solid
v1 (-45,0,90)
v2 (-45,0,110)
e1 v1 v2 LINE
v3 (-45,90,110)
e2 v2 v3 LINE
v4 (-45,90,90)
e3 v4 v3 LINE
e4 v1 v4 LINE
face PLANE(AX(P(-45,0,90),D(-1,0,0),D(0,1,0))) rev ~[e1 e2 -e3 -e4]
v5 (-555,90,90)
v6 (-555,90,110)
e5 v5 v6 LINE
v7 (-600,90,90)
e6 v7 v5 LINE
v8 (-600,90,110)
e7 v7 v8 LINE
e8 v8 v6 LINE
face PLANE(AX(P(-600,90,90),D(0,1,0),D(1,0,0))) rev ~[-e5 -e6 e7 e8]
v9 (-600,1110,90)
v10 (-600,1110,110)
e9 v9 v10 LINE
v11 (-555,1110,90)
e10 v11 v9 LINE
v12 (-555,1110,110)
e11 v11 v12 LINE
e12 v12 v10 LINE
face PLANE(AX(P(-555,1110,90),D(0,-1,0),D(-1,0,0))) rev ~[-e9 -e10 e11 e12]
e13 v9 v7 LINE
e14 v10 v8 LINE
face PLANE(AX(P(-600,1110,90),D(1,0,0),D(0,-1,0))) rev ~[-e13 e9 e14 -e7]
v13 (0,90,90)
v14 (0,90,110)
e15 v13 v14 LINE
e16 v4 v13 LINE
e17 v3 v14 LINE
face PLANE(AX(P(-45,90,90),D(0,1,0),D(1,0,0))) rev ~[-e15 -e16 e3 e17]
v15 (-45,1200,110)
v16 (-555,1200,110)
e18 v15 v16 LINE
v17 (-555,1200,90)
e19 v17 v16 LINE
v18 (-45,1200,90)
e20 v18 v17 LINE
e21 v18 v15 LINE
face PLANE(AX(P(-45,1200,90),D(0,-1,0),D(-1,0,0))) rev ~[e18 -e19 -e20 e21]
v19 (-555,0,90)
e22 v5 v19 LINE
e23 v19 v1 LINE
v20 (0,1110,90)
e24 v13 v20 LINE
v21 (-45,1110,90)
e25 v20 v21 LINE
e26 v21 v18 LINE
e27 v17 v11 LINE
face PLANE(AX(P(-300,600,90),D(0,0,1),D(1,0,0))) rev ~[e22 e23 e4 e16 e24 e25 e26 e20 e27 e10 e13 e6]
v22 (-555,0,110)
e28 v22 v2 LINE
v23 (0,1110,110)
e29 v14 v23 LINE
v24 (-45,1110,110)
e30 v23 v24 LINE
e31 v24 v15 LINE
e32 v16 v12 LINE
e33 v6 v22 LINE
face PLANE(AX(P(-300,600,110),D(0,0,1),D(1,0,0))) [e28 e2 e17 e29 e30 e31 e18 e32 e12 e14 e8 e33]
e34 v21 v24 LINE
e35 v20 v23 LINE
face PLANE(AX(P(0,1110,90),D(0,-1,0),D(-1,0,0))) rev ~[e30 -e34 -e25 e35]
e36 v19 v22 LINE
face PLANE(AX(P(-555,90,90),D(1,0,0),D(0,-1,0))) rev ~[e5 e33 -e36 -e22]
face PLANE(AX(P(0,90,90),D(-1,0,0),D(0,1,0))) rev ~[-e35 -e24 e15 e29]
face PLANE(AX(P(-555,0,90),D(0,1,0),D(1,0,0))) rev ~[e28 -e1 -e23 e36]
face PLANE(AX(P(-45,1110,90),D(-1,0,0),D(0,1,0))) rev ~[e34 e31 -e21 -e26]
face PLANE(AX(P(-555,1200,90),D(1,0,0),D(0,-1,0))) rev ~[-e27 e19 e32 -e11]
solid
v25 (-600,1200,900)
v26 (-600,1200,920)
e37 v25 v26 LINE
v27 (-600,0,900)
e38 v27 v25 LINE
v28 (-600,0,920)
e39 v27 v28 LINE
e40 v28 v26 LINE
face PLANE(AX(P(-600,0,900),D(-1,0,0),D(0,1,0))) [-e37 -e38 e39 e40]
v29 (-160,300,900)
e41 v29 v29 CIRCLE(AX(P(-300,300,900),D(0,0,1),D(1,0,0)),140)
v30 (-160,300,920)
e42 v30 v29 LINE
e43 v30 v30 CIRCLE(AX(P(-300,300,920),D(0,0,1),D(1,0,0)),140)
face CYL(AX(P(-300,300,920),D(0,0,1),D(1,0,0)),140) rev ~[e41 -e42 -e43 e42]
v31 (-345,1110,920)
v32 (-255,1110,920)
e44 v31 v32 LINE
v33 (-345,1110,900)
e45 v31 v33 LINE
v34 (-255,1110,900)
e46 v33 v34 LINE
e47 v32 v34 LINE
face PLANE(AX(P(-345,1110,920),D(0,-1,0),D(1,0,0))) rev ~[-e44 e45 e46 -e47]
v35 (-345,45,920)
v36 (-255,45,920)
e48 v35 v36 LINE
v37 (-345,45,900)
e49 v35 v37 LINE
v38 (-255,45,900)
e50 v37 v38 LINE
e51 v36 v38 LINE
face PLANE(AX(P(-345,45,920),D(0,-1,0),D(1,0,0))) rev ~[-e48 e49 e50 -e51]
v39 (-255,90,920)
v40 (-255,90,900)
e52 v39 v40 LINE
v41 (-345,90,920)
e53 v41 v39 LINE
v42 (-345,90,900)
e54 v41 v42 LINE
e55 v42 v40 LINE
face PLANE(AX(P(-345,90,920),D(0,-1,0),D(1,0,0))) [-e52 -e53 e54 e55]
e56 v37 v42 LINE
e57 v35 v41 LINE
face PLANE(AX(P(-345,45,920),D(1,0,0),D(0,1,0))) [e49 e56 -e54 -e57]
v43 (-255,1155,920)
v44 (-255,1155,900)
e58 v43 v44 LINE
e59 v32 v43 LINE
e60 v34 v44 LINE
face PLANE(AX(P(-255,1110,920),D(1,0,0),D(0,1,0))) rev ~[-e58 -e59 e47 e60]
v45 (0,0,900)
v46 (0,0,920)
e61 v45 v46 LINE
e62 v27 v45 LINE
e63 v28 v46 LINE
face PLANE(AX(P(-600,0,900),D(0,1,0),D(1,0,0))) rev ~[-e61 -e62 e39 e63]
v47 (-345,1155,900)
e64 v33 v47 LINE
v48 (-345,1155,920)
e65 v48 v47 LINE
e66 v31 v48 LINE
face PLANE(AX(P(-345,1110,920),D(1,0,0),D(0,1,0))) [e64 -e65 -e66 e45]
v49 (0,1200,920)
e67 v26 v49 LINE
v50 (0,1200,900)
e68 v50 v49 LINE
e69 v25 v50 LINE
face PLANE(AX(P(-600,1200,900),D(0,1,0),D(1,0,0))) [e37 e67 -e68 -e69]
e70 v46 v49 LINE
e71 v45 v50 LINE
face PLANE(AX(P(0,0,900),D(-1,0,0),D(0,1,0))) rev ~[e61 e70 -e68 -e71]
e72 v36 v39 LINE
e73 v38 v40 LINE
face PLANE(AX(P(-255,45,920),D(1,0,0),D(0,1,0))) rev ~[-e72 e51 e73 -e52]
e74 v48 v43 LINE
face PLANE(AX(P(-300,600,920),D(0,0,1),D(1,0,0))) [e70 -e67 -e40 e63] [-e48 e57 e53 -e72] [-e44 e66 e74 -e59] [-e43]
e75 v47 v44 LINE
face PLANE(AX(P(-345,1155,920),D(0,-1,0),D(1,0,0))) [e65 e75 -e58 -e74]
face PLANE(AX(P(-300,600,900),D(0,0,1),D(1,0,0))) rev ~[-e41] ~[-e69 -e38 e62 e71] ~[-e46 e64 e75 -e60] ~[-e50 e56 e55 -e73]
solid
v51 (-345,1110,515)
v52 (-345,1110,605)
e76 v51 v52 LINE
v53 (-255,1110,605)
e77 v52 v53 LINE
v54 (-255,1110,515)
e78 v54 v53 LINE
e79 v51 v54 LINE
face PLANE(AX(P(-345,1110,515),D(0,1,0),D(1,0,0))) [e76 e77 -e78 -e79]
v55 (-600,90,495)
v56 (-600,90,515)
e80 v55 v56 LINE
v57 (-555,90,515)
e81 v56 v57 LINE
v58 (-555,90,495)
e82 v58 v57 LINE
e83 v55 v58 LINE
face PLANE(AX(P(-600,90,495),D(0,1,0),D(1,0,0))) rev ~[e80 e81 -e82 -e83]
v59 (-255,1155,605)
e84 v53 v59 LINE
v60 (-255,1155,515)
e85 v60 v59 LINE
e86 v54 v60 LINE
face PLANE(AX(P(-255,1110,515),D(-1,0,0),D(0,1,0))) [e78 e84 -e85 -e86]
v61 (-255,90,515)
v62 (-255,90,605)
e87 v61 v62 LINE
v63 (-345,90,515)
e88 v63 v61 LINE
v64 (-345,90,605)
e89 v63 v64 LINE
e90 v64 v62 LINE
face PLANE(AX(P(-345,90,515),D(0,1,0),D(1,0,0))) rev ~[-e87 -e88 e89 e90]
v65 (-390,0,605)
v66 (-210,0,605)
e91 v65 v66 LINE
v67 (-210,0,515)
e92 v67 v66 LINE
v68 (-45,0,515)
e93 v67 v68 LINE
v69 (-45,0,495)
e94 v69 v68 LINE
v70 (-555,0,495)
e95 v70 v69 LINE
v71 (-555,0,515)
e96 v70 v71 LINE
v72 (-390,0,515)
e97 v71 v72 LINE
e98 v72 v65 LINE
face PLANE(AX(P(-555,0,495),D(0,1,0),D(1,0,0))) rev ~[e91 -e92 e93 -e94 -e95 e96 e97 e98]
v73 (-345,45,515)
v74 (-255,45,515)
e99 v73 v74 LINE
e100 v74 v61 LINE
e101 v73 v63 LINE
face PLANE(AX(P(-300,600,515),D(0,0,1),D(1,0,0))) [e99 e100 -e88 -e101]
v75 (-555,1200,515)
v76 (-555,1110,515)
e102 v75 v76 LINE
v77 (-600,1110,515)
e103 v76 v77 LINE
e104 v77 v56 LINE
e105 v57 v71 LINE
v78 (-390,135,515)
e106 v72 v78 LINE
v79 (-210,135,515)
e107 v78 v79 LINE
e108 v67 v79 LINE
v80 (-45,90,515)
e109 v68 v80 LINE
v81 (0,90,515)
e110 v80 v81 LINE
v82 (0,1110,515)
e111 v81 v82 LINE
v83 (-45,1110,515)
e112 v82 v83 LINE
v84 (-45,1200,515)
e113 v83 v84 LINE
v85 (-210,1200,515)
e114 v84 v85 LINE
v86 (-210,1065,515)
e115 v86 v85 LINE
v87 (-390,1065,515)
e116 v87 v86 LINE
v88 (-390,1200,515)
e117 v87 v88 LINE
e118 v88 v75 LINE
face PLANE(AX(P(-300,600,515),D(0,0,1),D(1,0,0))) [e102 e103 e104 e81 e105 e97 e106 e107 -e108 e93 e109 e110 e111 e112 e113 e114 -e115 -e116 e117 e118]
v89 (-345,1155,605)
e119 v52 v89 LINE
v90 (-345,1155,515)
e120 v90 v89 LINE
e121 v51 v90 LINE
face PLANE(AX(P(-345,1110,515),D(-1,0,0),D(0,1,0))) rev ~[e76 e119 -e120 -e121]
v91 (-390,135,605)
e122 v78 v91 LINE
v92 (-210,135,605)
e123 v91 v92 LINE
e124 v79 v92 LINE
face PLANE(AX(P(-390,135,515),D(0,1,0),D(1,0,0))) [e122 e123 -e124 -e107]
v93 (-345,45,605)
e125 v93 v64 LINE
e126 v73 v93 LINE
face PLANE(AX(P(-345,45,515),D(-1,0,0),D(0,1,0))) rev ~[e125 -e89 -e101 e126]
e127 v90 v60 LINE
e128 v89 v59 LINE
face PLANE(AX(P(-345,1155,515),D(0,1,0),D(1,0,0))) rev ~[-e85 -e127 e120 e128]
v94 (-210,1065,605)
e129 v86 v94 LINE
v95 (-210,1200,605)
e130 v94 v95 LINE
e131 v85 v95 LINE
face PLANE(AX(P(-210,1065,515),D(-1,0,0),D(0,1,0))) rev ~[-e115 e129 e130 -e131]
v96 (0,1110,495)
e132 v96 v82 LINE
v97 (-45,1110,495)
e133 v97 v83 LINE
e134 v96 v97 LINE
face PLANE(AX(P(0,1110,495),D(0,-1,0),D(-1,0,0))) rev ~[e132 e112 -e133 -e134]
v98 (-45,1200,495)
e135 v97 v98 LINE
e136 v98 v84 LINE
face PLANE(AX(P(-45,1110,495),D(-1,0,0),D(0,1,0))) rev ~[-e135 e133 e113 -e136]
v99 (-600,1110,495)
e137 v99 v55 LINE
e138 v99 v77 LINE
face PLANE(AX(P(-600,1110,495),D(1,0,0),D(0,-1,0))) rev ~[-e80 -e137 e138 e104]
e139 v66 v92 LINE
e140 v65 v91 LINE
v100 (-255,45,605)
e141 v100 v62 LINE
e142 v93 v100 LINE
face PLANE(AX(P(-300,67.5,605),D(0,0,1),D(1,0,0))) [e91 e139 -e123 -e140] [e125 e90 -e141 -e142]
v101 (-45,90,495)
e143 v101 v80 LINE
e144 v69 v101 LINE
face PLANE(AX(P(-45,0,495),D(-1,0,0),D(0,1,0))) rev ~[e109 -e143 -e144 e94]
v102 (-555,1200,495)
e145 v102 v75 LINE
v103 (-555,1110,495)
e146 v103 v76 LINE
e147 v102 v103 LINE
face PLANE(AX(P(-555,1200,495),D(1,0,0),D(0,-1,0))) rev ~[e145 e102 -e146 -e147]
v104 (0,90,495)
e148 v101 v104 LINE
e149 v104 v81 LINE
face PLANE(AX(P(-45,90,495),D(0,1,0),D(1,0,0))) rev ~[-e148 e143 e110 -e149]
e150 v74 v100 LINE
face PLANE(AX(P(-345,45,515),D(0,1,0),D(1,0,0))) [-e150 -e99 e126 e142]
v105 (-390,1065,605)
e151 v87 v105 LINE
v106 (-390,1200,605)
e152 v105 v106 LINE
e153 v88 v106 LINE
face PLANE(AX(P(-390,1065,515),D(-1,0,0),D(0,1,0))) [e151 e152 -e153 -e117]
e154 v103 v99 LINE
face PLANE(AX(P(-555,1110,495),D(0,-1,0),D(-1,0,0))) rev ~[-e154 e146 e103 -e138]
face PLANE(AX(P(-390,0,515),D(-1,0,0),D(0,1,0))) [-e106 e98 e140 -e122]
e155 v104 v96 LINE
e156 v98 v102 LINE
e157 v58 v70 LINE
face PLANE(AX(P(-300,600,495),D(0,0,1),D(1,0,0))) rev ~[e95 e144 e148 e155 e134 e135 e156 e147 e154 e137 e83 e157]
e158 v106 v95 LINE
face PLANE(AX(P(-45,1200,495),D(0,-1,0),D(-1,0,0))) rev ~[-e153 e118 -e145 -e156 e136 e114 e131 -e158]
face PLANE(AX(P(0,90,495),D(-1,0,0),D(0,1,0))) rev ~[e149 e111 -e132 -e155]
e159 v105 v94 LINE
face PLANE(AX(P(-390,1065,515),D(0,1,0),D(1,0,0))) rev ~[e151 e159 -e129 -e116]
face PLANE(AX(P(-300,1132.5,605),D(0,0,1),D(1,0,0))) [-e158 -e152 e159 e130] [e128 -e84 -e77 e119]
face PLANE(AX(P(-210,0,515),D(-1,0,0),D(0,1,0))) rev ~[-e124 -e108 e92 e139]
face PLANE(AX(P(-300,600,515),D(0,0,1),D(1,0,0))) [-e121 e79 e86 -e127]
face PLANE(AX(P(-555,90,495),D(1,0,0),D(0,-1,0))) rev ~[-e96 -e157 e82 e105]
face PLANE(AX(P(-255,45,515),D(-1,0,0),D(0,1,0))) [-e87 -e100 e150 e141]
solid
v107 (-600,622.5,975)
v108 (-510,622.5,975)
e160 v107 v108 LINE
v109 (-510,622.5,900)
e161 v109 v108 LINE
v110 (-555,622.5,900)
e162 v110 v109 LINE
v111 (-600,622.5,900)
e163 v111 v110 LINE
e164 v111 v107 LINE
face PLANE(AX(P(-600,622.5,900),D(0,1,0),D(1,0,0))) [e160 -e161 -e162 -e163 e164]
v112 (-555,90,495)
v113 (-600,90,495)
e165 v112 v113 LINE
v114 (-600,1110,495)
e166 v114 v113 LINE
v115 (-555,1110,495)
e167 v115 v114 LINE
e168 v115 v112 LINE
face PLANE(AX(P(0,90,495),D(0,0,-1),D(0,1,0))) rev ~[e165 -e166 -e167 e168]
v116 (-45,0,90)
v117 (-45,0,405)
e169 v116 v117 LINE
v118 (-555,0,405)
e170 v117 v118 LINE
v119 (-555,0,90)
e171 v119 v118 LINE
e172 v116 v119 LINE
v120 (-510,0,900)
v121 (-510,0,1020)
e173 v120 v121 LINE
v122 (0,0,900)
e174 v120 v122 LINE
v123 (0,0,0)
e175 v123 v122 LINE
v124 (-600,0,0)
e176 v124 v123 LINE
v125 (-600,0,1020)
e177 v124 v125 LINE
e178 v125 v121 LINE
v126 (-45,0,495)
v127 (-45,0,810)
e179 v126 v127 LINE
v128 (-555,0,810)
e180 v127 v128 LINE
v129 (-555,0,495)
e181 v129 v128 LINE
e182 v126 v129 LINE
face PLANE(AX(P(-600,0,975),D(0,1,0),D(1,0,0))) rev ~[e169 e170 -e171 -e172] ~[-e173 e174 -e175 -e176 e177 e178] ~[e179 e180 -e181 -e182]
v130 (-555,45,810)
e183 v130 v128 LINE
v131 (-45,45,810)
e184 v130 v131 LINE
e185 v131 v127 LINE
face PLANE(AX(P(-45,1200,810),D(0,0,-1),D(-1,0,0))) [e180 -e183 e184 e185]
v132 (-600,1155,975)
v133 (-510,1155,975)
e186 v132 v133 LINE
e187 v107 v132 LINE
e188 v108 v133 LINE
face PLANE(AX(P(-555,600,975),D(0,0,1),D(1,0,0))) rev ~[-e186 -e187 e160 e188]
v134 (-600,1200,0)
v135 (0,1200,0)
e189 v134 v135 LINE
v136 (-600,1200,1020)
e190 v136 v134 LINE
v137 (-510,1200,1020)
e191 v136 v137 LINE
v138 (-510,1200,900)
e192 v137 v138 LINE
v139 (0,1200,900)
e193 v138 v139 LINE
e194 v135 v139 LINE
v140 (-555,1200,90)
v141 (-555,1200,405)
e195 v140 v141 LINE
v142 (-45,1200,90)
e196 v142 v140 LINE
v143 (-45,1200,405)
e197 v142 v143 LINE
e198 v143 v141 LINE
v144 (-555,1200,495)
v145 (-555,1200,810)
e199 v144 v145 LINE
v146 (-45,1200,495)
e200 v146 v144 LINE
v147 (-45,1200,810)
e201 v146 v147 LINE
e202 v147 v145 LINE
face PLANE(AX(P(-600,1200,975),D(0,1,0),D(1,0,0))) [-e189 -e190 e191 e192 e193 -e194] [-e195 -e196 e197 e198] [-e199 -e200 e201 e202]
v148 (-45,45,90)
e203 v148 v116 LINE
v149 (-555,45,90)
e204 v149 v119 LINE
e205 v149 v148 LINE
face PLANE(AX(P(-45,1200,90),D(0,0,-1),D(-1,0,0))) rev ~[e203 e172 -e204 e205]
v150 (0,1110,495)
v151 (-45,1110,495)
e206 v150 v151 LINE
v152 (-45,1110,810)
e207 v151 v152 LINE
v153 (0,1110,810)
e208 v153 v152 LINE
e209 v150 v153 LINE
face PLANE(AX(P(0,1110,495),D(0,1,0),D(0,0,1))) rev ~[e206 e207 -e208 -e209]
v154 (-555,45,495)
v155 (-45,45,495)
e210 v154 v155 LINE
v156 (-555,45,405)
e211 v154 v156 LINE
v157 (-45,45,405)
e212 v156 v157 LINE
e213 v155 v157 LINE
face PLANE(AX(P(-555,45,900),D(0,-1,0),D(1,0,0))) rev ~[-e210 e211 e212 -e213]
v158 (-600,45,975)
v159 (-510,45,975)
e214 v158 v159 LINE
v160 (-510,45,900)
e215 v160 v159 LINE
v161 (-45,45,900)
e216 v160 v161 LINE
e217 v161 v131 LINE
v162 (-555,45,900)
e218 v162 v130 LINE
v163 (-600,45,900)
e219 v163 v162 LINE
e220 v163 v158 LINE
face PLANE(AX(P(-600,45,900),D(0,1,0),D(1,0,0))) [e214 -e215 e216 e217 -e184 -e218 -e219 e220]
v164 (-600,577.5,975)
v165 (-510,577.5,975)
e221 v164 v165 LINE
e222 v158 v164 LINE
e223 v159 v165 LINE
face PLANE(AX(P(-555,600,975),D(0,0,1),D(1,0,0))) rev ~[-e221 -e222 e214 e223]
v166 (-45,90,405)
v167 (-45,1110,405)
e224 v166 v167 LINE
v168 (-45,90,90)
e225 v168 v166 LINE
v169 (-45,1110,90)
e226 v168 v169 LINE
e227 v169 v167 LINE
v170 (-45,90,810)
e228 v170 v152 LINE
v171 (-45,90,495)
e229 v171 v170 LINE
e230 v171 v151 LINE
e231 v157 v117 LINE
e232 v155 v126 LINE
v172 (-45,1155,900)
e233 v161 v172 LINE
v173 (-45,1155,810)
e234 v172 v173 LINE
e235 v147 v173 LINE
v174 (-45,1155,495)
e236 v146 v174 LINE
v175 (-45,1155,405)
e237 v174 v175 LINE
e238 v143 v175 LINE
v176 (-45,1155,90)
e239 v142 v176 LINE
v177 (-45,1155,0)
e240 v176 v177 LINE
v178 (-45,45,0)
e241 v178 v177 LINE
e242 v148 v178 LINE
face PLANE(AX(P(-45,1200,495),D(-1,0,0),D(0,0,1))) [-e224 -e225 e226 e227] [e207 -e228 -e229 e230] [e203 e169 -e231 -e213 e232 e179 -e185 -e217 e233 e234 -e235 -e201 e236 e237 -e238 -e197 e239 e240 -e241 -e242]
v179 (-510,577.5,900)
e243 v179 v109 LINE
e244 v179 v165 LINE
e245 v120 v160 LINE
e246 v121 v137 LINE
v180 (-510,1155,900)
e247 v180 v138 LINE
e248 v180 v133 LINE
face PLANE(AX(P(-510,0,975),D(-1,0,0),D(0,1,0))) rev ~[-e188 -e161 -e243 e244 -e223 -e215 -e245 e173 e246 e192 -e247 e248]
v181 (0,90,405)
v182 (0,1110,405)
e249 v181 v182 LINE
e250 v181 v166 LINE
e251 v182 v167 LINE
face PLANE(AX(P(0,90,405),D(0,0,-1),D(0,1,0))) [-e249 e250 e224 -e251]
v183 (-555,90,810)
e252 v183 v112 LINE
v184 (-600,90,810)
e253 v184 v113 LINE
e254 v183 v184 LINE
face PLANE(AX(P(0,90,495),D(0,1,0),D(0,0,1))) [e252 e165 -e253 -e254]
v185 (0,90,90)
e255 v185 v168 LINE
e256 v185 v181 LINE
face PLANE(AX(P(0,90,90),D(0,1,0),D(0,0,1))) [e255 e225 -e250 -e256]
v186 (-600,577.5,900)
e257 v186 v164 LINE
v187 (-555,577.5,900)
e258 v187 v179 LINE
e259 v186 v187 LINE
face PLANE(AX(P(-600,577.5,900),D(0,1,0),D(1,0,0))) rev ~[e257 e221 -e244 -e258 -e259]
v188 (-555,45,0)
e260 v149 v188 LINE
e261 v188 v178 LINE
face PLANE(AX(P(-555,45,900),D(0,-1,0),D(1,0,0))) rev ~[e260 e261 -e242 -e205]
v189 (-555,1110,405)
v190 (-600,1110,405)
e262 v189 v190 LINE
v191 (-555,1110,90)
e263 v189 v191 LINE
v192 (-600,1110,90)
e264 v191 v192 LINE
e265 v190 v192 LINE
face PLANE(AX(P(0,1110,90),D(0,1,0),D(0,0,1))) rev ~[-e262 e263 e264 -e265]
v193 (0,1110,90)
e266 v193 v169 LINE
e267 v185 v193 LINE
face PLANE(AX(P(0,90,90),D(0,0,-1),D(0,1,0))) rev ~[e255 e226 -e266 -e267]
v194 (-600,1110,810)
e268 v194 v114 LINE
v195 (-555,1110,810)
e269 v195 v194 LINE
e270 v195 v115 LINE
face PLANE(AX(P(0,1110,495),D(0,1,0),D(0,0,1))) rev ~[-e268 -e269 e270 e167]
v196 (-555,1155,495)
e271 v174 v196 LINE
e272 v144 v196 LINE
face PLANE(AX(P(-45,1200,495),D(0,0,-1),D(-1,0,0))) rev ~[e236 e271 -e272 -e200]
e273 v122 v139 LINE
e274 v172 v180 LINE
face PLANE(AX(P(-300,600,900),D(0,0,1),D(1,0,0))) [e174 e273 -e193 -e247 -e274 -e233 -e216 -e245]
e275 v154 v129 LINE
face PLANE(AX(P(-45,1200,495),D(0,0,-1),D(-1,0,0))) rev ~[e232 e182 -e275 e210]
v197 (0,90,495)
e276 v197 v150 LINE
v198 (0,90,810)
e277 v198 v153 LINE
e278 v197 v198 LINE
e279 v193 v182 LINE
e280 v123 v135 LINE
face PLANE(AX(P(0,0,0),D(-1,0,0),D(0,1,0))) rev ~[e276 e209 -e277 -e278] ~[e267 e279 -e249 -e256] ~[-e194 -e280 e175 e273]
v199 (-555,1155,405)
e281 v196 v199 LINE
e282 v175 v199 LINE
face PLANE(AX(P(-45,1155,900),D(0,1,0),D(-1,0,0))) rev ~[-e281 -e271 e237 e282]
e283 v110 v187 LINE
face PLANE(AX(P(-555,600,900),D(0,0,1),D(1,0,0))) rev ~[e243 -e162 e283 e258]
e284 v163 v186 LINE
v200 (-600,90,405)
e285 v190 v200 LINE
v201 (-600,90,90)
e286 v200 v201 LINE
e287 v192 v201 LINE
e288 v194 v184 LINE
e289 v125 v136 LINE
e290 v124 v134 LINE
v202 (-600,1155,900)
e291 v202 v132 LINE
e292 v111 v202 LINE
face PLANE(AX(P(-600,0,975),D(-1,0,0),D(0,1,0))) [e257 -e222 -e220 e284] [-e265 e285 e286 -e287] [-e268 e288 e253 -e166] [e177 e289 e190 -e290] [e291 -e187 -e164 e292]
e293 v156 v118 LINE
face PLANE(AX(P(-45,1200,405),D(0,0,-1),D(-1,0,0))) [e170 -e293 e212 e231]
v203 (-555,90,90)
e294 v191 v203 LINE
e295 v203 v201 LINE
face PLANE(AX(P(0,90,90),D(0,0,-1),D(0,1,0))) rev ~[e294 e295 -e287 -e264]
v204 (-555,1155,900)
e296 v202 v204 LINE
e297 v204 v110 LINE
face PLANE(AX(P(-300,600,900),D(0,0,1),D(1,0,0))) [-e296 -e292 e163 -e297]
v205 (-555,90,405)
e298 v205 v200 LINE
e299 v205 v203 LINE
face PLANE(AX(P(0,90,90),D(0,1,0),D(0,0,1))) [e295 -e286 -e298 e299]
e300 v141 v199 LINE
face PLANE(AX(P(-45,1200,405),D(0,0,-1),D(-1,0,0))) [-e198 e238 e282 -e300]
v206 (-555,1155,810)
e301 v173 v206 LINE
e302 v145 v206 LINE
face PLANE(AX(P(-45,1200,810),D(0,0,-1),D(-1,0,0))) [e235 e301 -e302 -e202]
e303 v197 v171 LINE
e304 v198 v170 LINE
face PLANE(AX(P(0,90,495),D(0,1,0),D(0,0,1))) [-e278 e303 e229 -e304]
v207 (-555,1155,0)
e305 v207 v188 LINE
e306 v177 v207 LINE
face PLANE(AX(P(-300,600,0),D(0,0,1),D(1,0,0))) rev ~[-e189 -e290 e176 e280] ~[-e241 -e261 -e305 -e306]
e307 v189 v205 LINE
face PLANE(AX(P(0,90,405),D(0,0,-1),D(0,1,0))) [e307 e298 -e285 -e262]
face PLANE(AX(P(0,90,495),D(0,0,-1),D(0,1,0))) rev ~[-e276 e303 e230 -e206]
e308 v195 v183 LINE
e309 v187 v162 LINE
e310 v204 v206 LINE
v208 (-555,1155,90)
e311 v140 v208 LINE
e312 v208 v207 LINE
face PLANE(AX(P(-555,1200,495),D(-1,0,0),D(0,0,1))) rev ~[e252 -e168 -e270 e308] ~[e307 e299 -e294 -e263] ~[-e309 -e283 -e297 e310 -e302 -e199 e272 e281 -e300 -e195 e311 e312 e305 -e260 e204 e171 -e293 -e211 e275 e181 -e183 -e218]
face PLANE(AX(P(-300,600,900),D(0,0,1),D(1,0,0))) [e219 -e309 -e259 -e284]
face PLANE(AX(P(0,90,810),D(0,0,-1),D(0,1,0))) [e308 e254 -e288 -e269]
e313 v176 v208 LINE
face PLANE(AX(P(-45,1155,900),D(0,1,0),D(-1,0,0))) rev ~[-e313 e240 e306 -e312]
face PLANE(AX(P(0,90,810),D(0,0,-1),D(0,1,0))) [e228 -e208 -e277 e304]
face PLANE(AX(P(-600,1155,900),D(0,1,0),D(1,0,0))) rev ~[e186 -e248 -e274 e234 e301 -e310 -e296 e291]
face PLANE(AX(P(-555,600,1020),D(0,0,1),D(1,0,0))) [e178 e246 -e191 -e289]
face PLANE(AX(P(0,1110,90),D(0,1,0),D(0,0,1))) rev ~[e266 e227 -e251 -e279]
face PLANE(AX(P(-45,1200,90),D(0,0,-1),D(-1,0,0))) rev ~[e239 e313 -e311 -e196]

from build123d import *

# Parameters (mm, degrees)
F0_W      = 600
F0_H      = 1200
F1_DEPTH  = 900
F3_DEPTH  = 900.001
F4_W      = 1020
F4_H      = 315
F5_DEPTH  = 600.001
F6_W      = 510
F6_H      = 315
F7_DEPTH  = 1200.001
F8_W      = 600
F8_H      = 1200
F9_DEPTH  = 20
F11_DEPTH = 20
F13_DEPTH = 20
F14_R     = 140
F15_DEPTH = 20
F16_W     = 90
F16_H     = 45
F17_DEPTH = 20
F18_W     = 180
F18_H     = 135
F18_W_2   = 90
F18_H_2   = 45
F19_DEPTH = 90
F20_W     = 90
F20_H     = 45
F21_DEPTH = 75
F22_W     = 90
F22_H     = 1200
F23_DEPTH = 45


with BuildPart() as f1:
    # F0 (on Top) → F1 (new body)
    with BuildSketch(Plane.XY):
        with Locations((-300, 600)):
            Rectangle(F0_W, F0_H)
    extrude(amount=F1_DEPTH)

    # F2 (on face) → F3 (cut, through all)
    with BuildSketch(Plane.XY.offset(900)):
        Polygon((-555, 45), (-300, 45), (-45, 45), (-45, 600), (-45, 1155), (-300, 1155), (-555, 1155), (-555, 600), align=None)
    extrude(amount=-F3_DEPTH, mode=Mode.SUBTRACT)

    # F4 (on face) → F5 (cut, through all)
    with BuildSketch(Plane.YZ):
        with Locations((600, 652.5)):
            Rectangle(F4_W, F4_H)
        with Locations((600, 247.5)):
            Rectangle(F4_W, F4_H)
    extrude(amount=-F5_DEPTH, mode=Mode.SUBTRACT)

    # F6 (on face) → F7 (cut, through all)
    with BuildSketch(Plane(origin=(0, 1200, 0), x_dir=(-1, 0, 0), z_dir=(0, 1, 0))):
        with Locations((300, 652.5)):
            Rectangle(F6_W, F6_H)
        with Locations((300, 247.5)):
            Rectangle(F6_W, F6_H)
    extrude(amount=-F7_DEPTH, mode=Mode.SUBTRACT)

    # F20 (on face) → F21 (join)
    with BuildSketch(Plane.XY.offset(900)):
        with Locations((-555, 22.5)):
            Rectangle(F20_W, F20_H)
        with Locations((-555, 1177.5)):
            Rectangle(F20_W, F20_H)
        with Locations((-555, 600)):
            Rectangle(F20_W, F20_H)
    extrude(amount=F21_DEPTH)

    # F22 (on face) → F23 (join)
    with BuildSketch(Plane.XY.offset(975)):
        with Locations((-555, 600)):
            Rectangle(F22_W, F22_H)
    extrude(amount=F23_DEPTH)


with BuildPart() as f9:
    # F8 (on face) → F9 (new body)
    with BuildSketch(Plane.XY.offset(900)):
        with Locations((-300, 600)):
            Rectangle(F8_W, F8_H)
    extrude(amount=F9_DEPTH)

    # F14 (on face) → F15 (cut, through all)
    with BuildSketch(Plane.XY.offset(920)):
        with Locations((-300, 300)):
            Circle(F14_R)
    extrude(amount=-F15_DEPTH, mode=Mode.SUBTRACT)

    # F16 (on face) → F17 (cut, through all)
    with BuildSketch(Plane.XY.offset(920)):
        with Locations((-300, 67.5)):
            Rectangle(F16_W, F16_H)
        with Locations((-300, 1132.5)):
            Rectangle(F16_W, F16_H)
    extrude(amount=-F17_DEPTH, mode=Mode.SUBTRACT)


with BuildPart() as f11:
    # F10 (on face) → F11 (new body)
    with BuildSketch(Plane.XY.offset(495)):
        Polygon((-45, 90), (0, 90), (0, 1110), (-45, 1110), (-45, 1200), (-555, 1200), (-555, 1110), (-600, 1110), (-600, 90), (-555, 90), (-555, 0), (-45, 0), align=None)
    extrude(amount=F11_DEPTH)

    # F18 (on face) → F19 (join)
    with BuildSketch(Plane.XY.offset(515)):
        with Locations((-300, 67.5)):
            Rectangle(F18_W, F18_H)
        with Locations((-300, 67.5)):
            Rectangle(F18_W_2, F18_H_2, mode=Mode.SUBTRACT)
        with Locations((-300, 1132.5)):
            Rectangle(F18_W, F18_H)
        with Locations((-300, 1132.5)):
            Rectangle(F18_W_2, F18_H_2, mode=Mode.SUBTRACT)
    extrude(amount=F19_DEPTH)


with BuildPart() as f13:
    # F12 (on face) → F13 (new body)
    with BuildSketch(Plane.XY.offset(90)):
        Polygon((-45, 90), (0, 90), (0, 1110), (-45, 1110), (-45, 1200), (-555, 1200), (-555, 1110), (-600, 1110), (-600, 90), (-555, 90), (-555, 0), (-45, 0), align=None)
    extrude(amount=F13_DEPTH)


solid = Compound([f1.part, f9.part, f11.part, f13.part])
